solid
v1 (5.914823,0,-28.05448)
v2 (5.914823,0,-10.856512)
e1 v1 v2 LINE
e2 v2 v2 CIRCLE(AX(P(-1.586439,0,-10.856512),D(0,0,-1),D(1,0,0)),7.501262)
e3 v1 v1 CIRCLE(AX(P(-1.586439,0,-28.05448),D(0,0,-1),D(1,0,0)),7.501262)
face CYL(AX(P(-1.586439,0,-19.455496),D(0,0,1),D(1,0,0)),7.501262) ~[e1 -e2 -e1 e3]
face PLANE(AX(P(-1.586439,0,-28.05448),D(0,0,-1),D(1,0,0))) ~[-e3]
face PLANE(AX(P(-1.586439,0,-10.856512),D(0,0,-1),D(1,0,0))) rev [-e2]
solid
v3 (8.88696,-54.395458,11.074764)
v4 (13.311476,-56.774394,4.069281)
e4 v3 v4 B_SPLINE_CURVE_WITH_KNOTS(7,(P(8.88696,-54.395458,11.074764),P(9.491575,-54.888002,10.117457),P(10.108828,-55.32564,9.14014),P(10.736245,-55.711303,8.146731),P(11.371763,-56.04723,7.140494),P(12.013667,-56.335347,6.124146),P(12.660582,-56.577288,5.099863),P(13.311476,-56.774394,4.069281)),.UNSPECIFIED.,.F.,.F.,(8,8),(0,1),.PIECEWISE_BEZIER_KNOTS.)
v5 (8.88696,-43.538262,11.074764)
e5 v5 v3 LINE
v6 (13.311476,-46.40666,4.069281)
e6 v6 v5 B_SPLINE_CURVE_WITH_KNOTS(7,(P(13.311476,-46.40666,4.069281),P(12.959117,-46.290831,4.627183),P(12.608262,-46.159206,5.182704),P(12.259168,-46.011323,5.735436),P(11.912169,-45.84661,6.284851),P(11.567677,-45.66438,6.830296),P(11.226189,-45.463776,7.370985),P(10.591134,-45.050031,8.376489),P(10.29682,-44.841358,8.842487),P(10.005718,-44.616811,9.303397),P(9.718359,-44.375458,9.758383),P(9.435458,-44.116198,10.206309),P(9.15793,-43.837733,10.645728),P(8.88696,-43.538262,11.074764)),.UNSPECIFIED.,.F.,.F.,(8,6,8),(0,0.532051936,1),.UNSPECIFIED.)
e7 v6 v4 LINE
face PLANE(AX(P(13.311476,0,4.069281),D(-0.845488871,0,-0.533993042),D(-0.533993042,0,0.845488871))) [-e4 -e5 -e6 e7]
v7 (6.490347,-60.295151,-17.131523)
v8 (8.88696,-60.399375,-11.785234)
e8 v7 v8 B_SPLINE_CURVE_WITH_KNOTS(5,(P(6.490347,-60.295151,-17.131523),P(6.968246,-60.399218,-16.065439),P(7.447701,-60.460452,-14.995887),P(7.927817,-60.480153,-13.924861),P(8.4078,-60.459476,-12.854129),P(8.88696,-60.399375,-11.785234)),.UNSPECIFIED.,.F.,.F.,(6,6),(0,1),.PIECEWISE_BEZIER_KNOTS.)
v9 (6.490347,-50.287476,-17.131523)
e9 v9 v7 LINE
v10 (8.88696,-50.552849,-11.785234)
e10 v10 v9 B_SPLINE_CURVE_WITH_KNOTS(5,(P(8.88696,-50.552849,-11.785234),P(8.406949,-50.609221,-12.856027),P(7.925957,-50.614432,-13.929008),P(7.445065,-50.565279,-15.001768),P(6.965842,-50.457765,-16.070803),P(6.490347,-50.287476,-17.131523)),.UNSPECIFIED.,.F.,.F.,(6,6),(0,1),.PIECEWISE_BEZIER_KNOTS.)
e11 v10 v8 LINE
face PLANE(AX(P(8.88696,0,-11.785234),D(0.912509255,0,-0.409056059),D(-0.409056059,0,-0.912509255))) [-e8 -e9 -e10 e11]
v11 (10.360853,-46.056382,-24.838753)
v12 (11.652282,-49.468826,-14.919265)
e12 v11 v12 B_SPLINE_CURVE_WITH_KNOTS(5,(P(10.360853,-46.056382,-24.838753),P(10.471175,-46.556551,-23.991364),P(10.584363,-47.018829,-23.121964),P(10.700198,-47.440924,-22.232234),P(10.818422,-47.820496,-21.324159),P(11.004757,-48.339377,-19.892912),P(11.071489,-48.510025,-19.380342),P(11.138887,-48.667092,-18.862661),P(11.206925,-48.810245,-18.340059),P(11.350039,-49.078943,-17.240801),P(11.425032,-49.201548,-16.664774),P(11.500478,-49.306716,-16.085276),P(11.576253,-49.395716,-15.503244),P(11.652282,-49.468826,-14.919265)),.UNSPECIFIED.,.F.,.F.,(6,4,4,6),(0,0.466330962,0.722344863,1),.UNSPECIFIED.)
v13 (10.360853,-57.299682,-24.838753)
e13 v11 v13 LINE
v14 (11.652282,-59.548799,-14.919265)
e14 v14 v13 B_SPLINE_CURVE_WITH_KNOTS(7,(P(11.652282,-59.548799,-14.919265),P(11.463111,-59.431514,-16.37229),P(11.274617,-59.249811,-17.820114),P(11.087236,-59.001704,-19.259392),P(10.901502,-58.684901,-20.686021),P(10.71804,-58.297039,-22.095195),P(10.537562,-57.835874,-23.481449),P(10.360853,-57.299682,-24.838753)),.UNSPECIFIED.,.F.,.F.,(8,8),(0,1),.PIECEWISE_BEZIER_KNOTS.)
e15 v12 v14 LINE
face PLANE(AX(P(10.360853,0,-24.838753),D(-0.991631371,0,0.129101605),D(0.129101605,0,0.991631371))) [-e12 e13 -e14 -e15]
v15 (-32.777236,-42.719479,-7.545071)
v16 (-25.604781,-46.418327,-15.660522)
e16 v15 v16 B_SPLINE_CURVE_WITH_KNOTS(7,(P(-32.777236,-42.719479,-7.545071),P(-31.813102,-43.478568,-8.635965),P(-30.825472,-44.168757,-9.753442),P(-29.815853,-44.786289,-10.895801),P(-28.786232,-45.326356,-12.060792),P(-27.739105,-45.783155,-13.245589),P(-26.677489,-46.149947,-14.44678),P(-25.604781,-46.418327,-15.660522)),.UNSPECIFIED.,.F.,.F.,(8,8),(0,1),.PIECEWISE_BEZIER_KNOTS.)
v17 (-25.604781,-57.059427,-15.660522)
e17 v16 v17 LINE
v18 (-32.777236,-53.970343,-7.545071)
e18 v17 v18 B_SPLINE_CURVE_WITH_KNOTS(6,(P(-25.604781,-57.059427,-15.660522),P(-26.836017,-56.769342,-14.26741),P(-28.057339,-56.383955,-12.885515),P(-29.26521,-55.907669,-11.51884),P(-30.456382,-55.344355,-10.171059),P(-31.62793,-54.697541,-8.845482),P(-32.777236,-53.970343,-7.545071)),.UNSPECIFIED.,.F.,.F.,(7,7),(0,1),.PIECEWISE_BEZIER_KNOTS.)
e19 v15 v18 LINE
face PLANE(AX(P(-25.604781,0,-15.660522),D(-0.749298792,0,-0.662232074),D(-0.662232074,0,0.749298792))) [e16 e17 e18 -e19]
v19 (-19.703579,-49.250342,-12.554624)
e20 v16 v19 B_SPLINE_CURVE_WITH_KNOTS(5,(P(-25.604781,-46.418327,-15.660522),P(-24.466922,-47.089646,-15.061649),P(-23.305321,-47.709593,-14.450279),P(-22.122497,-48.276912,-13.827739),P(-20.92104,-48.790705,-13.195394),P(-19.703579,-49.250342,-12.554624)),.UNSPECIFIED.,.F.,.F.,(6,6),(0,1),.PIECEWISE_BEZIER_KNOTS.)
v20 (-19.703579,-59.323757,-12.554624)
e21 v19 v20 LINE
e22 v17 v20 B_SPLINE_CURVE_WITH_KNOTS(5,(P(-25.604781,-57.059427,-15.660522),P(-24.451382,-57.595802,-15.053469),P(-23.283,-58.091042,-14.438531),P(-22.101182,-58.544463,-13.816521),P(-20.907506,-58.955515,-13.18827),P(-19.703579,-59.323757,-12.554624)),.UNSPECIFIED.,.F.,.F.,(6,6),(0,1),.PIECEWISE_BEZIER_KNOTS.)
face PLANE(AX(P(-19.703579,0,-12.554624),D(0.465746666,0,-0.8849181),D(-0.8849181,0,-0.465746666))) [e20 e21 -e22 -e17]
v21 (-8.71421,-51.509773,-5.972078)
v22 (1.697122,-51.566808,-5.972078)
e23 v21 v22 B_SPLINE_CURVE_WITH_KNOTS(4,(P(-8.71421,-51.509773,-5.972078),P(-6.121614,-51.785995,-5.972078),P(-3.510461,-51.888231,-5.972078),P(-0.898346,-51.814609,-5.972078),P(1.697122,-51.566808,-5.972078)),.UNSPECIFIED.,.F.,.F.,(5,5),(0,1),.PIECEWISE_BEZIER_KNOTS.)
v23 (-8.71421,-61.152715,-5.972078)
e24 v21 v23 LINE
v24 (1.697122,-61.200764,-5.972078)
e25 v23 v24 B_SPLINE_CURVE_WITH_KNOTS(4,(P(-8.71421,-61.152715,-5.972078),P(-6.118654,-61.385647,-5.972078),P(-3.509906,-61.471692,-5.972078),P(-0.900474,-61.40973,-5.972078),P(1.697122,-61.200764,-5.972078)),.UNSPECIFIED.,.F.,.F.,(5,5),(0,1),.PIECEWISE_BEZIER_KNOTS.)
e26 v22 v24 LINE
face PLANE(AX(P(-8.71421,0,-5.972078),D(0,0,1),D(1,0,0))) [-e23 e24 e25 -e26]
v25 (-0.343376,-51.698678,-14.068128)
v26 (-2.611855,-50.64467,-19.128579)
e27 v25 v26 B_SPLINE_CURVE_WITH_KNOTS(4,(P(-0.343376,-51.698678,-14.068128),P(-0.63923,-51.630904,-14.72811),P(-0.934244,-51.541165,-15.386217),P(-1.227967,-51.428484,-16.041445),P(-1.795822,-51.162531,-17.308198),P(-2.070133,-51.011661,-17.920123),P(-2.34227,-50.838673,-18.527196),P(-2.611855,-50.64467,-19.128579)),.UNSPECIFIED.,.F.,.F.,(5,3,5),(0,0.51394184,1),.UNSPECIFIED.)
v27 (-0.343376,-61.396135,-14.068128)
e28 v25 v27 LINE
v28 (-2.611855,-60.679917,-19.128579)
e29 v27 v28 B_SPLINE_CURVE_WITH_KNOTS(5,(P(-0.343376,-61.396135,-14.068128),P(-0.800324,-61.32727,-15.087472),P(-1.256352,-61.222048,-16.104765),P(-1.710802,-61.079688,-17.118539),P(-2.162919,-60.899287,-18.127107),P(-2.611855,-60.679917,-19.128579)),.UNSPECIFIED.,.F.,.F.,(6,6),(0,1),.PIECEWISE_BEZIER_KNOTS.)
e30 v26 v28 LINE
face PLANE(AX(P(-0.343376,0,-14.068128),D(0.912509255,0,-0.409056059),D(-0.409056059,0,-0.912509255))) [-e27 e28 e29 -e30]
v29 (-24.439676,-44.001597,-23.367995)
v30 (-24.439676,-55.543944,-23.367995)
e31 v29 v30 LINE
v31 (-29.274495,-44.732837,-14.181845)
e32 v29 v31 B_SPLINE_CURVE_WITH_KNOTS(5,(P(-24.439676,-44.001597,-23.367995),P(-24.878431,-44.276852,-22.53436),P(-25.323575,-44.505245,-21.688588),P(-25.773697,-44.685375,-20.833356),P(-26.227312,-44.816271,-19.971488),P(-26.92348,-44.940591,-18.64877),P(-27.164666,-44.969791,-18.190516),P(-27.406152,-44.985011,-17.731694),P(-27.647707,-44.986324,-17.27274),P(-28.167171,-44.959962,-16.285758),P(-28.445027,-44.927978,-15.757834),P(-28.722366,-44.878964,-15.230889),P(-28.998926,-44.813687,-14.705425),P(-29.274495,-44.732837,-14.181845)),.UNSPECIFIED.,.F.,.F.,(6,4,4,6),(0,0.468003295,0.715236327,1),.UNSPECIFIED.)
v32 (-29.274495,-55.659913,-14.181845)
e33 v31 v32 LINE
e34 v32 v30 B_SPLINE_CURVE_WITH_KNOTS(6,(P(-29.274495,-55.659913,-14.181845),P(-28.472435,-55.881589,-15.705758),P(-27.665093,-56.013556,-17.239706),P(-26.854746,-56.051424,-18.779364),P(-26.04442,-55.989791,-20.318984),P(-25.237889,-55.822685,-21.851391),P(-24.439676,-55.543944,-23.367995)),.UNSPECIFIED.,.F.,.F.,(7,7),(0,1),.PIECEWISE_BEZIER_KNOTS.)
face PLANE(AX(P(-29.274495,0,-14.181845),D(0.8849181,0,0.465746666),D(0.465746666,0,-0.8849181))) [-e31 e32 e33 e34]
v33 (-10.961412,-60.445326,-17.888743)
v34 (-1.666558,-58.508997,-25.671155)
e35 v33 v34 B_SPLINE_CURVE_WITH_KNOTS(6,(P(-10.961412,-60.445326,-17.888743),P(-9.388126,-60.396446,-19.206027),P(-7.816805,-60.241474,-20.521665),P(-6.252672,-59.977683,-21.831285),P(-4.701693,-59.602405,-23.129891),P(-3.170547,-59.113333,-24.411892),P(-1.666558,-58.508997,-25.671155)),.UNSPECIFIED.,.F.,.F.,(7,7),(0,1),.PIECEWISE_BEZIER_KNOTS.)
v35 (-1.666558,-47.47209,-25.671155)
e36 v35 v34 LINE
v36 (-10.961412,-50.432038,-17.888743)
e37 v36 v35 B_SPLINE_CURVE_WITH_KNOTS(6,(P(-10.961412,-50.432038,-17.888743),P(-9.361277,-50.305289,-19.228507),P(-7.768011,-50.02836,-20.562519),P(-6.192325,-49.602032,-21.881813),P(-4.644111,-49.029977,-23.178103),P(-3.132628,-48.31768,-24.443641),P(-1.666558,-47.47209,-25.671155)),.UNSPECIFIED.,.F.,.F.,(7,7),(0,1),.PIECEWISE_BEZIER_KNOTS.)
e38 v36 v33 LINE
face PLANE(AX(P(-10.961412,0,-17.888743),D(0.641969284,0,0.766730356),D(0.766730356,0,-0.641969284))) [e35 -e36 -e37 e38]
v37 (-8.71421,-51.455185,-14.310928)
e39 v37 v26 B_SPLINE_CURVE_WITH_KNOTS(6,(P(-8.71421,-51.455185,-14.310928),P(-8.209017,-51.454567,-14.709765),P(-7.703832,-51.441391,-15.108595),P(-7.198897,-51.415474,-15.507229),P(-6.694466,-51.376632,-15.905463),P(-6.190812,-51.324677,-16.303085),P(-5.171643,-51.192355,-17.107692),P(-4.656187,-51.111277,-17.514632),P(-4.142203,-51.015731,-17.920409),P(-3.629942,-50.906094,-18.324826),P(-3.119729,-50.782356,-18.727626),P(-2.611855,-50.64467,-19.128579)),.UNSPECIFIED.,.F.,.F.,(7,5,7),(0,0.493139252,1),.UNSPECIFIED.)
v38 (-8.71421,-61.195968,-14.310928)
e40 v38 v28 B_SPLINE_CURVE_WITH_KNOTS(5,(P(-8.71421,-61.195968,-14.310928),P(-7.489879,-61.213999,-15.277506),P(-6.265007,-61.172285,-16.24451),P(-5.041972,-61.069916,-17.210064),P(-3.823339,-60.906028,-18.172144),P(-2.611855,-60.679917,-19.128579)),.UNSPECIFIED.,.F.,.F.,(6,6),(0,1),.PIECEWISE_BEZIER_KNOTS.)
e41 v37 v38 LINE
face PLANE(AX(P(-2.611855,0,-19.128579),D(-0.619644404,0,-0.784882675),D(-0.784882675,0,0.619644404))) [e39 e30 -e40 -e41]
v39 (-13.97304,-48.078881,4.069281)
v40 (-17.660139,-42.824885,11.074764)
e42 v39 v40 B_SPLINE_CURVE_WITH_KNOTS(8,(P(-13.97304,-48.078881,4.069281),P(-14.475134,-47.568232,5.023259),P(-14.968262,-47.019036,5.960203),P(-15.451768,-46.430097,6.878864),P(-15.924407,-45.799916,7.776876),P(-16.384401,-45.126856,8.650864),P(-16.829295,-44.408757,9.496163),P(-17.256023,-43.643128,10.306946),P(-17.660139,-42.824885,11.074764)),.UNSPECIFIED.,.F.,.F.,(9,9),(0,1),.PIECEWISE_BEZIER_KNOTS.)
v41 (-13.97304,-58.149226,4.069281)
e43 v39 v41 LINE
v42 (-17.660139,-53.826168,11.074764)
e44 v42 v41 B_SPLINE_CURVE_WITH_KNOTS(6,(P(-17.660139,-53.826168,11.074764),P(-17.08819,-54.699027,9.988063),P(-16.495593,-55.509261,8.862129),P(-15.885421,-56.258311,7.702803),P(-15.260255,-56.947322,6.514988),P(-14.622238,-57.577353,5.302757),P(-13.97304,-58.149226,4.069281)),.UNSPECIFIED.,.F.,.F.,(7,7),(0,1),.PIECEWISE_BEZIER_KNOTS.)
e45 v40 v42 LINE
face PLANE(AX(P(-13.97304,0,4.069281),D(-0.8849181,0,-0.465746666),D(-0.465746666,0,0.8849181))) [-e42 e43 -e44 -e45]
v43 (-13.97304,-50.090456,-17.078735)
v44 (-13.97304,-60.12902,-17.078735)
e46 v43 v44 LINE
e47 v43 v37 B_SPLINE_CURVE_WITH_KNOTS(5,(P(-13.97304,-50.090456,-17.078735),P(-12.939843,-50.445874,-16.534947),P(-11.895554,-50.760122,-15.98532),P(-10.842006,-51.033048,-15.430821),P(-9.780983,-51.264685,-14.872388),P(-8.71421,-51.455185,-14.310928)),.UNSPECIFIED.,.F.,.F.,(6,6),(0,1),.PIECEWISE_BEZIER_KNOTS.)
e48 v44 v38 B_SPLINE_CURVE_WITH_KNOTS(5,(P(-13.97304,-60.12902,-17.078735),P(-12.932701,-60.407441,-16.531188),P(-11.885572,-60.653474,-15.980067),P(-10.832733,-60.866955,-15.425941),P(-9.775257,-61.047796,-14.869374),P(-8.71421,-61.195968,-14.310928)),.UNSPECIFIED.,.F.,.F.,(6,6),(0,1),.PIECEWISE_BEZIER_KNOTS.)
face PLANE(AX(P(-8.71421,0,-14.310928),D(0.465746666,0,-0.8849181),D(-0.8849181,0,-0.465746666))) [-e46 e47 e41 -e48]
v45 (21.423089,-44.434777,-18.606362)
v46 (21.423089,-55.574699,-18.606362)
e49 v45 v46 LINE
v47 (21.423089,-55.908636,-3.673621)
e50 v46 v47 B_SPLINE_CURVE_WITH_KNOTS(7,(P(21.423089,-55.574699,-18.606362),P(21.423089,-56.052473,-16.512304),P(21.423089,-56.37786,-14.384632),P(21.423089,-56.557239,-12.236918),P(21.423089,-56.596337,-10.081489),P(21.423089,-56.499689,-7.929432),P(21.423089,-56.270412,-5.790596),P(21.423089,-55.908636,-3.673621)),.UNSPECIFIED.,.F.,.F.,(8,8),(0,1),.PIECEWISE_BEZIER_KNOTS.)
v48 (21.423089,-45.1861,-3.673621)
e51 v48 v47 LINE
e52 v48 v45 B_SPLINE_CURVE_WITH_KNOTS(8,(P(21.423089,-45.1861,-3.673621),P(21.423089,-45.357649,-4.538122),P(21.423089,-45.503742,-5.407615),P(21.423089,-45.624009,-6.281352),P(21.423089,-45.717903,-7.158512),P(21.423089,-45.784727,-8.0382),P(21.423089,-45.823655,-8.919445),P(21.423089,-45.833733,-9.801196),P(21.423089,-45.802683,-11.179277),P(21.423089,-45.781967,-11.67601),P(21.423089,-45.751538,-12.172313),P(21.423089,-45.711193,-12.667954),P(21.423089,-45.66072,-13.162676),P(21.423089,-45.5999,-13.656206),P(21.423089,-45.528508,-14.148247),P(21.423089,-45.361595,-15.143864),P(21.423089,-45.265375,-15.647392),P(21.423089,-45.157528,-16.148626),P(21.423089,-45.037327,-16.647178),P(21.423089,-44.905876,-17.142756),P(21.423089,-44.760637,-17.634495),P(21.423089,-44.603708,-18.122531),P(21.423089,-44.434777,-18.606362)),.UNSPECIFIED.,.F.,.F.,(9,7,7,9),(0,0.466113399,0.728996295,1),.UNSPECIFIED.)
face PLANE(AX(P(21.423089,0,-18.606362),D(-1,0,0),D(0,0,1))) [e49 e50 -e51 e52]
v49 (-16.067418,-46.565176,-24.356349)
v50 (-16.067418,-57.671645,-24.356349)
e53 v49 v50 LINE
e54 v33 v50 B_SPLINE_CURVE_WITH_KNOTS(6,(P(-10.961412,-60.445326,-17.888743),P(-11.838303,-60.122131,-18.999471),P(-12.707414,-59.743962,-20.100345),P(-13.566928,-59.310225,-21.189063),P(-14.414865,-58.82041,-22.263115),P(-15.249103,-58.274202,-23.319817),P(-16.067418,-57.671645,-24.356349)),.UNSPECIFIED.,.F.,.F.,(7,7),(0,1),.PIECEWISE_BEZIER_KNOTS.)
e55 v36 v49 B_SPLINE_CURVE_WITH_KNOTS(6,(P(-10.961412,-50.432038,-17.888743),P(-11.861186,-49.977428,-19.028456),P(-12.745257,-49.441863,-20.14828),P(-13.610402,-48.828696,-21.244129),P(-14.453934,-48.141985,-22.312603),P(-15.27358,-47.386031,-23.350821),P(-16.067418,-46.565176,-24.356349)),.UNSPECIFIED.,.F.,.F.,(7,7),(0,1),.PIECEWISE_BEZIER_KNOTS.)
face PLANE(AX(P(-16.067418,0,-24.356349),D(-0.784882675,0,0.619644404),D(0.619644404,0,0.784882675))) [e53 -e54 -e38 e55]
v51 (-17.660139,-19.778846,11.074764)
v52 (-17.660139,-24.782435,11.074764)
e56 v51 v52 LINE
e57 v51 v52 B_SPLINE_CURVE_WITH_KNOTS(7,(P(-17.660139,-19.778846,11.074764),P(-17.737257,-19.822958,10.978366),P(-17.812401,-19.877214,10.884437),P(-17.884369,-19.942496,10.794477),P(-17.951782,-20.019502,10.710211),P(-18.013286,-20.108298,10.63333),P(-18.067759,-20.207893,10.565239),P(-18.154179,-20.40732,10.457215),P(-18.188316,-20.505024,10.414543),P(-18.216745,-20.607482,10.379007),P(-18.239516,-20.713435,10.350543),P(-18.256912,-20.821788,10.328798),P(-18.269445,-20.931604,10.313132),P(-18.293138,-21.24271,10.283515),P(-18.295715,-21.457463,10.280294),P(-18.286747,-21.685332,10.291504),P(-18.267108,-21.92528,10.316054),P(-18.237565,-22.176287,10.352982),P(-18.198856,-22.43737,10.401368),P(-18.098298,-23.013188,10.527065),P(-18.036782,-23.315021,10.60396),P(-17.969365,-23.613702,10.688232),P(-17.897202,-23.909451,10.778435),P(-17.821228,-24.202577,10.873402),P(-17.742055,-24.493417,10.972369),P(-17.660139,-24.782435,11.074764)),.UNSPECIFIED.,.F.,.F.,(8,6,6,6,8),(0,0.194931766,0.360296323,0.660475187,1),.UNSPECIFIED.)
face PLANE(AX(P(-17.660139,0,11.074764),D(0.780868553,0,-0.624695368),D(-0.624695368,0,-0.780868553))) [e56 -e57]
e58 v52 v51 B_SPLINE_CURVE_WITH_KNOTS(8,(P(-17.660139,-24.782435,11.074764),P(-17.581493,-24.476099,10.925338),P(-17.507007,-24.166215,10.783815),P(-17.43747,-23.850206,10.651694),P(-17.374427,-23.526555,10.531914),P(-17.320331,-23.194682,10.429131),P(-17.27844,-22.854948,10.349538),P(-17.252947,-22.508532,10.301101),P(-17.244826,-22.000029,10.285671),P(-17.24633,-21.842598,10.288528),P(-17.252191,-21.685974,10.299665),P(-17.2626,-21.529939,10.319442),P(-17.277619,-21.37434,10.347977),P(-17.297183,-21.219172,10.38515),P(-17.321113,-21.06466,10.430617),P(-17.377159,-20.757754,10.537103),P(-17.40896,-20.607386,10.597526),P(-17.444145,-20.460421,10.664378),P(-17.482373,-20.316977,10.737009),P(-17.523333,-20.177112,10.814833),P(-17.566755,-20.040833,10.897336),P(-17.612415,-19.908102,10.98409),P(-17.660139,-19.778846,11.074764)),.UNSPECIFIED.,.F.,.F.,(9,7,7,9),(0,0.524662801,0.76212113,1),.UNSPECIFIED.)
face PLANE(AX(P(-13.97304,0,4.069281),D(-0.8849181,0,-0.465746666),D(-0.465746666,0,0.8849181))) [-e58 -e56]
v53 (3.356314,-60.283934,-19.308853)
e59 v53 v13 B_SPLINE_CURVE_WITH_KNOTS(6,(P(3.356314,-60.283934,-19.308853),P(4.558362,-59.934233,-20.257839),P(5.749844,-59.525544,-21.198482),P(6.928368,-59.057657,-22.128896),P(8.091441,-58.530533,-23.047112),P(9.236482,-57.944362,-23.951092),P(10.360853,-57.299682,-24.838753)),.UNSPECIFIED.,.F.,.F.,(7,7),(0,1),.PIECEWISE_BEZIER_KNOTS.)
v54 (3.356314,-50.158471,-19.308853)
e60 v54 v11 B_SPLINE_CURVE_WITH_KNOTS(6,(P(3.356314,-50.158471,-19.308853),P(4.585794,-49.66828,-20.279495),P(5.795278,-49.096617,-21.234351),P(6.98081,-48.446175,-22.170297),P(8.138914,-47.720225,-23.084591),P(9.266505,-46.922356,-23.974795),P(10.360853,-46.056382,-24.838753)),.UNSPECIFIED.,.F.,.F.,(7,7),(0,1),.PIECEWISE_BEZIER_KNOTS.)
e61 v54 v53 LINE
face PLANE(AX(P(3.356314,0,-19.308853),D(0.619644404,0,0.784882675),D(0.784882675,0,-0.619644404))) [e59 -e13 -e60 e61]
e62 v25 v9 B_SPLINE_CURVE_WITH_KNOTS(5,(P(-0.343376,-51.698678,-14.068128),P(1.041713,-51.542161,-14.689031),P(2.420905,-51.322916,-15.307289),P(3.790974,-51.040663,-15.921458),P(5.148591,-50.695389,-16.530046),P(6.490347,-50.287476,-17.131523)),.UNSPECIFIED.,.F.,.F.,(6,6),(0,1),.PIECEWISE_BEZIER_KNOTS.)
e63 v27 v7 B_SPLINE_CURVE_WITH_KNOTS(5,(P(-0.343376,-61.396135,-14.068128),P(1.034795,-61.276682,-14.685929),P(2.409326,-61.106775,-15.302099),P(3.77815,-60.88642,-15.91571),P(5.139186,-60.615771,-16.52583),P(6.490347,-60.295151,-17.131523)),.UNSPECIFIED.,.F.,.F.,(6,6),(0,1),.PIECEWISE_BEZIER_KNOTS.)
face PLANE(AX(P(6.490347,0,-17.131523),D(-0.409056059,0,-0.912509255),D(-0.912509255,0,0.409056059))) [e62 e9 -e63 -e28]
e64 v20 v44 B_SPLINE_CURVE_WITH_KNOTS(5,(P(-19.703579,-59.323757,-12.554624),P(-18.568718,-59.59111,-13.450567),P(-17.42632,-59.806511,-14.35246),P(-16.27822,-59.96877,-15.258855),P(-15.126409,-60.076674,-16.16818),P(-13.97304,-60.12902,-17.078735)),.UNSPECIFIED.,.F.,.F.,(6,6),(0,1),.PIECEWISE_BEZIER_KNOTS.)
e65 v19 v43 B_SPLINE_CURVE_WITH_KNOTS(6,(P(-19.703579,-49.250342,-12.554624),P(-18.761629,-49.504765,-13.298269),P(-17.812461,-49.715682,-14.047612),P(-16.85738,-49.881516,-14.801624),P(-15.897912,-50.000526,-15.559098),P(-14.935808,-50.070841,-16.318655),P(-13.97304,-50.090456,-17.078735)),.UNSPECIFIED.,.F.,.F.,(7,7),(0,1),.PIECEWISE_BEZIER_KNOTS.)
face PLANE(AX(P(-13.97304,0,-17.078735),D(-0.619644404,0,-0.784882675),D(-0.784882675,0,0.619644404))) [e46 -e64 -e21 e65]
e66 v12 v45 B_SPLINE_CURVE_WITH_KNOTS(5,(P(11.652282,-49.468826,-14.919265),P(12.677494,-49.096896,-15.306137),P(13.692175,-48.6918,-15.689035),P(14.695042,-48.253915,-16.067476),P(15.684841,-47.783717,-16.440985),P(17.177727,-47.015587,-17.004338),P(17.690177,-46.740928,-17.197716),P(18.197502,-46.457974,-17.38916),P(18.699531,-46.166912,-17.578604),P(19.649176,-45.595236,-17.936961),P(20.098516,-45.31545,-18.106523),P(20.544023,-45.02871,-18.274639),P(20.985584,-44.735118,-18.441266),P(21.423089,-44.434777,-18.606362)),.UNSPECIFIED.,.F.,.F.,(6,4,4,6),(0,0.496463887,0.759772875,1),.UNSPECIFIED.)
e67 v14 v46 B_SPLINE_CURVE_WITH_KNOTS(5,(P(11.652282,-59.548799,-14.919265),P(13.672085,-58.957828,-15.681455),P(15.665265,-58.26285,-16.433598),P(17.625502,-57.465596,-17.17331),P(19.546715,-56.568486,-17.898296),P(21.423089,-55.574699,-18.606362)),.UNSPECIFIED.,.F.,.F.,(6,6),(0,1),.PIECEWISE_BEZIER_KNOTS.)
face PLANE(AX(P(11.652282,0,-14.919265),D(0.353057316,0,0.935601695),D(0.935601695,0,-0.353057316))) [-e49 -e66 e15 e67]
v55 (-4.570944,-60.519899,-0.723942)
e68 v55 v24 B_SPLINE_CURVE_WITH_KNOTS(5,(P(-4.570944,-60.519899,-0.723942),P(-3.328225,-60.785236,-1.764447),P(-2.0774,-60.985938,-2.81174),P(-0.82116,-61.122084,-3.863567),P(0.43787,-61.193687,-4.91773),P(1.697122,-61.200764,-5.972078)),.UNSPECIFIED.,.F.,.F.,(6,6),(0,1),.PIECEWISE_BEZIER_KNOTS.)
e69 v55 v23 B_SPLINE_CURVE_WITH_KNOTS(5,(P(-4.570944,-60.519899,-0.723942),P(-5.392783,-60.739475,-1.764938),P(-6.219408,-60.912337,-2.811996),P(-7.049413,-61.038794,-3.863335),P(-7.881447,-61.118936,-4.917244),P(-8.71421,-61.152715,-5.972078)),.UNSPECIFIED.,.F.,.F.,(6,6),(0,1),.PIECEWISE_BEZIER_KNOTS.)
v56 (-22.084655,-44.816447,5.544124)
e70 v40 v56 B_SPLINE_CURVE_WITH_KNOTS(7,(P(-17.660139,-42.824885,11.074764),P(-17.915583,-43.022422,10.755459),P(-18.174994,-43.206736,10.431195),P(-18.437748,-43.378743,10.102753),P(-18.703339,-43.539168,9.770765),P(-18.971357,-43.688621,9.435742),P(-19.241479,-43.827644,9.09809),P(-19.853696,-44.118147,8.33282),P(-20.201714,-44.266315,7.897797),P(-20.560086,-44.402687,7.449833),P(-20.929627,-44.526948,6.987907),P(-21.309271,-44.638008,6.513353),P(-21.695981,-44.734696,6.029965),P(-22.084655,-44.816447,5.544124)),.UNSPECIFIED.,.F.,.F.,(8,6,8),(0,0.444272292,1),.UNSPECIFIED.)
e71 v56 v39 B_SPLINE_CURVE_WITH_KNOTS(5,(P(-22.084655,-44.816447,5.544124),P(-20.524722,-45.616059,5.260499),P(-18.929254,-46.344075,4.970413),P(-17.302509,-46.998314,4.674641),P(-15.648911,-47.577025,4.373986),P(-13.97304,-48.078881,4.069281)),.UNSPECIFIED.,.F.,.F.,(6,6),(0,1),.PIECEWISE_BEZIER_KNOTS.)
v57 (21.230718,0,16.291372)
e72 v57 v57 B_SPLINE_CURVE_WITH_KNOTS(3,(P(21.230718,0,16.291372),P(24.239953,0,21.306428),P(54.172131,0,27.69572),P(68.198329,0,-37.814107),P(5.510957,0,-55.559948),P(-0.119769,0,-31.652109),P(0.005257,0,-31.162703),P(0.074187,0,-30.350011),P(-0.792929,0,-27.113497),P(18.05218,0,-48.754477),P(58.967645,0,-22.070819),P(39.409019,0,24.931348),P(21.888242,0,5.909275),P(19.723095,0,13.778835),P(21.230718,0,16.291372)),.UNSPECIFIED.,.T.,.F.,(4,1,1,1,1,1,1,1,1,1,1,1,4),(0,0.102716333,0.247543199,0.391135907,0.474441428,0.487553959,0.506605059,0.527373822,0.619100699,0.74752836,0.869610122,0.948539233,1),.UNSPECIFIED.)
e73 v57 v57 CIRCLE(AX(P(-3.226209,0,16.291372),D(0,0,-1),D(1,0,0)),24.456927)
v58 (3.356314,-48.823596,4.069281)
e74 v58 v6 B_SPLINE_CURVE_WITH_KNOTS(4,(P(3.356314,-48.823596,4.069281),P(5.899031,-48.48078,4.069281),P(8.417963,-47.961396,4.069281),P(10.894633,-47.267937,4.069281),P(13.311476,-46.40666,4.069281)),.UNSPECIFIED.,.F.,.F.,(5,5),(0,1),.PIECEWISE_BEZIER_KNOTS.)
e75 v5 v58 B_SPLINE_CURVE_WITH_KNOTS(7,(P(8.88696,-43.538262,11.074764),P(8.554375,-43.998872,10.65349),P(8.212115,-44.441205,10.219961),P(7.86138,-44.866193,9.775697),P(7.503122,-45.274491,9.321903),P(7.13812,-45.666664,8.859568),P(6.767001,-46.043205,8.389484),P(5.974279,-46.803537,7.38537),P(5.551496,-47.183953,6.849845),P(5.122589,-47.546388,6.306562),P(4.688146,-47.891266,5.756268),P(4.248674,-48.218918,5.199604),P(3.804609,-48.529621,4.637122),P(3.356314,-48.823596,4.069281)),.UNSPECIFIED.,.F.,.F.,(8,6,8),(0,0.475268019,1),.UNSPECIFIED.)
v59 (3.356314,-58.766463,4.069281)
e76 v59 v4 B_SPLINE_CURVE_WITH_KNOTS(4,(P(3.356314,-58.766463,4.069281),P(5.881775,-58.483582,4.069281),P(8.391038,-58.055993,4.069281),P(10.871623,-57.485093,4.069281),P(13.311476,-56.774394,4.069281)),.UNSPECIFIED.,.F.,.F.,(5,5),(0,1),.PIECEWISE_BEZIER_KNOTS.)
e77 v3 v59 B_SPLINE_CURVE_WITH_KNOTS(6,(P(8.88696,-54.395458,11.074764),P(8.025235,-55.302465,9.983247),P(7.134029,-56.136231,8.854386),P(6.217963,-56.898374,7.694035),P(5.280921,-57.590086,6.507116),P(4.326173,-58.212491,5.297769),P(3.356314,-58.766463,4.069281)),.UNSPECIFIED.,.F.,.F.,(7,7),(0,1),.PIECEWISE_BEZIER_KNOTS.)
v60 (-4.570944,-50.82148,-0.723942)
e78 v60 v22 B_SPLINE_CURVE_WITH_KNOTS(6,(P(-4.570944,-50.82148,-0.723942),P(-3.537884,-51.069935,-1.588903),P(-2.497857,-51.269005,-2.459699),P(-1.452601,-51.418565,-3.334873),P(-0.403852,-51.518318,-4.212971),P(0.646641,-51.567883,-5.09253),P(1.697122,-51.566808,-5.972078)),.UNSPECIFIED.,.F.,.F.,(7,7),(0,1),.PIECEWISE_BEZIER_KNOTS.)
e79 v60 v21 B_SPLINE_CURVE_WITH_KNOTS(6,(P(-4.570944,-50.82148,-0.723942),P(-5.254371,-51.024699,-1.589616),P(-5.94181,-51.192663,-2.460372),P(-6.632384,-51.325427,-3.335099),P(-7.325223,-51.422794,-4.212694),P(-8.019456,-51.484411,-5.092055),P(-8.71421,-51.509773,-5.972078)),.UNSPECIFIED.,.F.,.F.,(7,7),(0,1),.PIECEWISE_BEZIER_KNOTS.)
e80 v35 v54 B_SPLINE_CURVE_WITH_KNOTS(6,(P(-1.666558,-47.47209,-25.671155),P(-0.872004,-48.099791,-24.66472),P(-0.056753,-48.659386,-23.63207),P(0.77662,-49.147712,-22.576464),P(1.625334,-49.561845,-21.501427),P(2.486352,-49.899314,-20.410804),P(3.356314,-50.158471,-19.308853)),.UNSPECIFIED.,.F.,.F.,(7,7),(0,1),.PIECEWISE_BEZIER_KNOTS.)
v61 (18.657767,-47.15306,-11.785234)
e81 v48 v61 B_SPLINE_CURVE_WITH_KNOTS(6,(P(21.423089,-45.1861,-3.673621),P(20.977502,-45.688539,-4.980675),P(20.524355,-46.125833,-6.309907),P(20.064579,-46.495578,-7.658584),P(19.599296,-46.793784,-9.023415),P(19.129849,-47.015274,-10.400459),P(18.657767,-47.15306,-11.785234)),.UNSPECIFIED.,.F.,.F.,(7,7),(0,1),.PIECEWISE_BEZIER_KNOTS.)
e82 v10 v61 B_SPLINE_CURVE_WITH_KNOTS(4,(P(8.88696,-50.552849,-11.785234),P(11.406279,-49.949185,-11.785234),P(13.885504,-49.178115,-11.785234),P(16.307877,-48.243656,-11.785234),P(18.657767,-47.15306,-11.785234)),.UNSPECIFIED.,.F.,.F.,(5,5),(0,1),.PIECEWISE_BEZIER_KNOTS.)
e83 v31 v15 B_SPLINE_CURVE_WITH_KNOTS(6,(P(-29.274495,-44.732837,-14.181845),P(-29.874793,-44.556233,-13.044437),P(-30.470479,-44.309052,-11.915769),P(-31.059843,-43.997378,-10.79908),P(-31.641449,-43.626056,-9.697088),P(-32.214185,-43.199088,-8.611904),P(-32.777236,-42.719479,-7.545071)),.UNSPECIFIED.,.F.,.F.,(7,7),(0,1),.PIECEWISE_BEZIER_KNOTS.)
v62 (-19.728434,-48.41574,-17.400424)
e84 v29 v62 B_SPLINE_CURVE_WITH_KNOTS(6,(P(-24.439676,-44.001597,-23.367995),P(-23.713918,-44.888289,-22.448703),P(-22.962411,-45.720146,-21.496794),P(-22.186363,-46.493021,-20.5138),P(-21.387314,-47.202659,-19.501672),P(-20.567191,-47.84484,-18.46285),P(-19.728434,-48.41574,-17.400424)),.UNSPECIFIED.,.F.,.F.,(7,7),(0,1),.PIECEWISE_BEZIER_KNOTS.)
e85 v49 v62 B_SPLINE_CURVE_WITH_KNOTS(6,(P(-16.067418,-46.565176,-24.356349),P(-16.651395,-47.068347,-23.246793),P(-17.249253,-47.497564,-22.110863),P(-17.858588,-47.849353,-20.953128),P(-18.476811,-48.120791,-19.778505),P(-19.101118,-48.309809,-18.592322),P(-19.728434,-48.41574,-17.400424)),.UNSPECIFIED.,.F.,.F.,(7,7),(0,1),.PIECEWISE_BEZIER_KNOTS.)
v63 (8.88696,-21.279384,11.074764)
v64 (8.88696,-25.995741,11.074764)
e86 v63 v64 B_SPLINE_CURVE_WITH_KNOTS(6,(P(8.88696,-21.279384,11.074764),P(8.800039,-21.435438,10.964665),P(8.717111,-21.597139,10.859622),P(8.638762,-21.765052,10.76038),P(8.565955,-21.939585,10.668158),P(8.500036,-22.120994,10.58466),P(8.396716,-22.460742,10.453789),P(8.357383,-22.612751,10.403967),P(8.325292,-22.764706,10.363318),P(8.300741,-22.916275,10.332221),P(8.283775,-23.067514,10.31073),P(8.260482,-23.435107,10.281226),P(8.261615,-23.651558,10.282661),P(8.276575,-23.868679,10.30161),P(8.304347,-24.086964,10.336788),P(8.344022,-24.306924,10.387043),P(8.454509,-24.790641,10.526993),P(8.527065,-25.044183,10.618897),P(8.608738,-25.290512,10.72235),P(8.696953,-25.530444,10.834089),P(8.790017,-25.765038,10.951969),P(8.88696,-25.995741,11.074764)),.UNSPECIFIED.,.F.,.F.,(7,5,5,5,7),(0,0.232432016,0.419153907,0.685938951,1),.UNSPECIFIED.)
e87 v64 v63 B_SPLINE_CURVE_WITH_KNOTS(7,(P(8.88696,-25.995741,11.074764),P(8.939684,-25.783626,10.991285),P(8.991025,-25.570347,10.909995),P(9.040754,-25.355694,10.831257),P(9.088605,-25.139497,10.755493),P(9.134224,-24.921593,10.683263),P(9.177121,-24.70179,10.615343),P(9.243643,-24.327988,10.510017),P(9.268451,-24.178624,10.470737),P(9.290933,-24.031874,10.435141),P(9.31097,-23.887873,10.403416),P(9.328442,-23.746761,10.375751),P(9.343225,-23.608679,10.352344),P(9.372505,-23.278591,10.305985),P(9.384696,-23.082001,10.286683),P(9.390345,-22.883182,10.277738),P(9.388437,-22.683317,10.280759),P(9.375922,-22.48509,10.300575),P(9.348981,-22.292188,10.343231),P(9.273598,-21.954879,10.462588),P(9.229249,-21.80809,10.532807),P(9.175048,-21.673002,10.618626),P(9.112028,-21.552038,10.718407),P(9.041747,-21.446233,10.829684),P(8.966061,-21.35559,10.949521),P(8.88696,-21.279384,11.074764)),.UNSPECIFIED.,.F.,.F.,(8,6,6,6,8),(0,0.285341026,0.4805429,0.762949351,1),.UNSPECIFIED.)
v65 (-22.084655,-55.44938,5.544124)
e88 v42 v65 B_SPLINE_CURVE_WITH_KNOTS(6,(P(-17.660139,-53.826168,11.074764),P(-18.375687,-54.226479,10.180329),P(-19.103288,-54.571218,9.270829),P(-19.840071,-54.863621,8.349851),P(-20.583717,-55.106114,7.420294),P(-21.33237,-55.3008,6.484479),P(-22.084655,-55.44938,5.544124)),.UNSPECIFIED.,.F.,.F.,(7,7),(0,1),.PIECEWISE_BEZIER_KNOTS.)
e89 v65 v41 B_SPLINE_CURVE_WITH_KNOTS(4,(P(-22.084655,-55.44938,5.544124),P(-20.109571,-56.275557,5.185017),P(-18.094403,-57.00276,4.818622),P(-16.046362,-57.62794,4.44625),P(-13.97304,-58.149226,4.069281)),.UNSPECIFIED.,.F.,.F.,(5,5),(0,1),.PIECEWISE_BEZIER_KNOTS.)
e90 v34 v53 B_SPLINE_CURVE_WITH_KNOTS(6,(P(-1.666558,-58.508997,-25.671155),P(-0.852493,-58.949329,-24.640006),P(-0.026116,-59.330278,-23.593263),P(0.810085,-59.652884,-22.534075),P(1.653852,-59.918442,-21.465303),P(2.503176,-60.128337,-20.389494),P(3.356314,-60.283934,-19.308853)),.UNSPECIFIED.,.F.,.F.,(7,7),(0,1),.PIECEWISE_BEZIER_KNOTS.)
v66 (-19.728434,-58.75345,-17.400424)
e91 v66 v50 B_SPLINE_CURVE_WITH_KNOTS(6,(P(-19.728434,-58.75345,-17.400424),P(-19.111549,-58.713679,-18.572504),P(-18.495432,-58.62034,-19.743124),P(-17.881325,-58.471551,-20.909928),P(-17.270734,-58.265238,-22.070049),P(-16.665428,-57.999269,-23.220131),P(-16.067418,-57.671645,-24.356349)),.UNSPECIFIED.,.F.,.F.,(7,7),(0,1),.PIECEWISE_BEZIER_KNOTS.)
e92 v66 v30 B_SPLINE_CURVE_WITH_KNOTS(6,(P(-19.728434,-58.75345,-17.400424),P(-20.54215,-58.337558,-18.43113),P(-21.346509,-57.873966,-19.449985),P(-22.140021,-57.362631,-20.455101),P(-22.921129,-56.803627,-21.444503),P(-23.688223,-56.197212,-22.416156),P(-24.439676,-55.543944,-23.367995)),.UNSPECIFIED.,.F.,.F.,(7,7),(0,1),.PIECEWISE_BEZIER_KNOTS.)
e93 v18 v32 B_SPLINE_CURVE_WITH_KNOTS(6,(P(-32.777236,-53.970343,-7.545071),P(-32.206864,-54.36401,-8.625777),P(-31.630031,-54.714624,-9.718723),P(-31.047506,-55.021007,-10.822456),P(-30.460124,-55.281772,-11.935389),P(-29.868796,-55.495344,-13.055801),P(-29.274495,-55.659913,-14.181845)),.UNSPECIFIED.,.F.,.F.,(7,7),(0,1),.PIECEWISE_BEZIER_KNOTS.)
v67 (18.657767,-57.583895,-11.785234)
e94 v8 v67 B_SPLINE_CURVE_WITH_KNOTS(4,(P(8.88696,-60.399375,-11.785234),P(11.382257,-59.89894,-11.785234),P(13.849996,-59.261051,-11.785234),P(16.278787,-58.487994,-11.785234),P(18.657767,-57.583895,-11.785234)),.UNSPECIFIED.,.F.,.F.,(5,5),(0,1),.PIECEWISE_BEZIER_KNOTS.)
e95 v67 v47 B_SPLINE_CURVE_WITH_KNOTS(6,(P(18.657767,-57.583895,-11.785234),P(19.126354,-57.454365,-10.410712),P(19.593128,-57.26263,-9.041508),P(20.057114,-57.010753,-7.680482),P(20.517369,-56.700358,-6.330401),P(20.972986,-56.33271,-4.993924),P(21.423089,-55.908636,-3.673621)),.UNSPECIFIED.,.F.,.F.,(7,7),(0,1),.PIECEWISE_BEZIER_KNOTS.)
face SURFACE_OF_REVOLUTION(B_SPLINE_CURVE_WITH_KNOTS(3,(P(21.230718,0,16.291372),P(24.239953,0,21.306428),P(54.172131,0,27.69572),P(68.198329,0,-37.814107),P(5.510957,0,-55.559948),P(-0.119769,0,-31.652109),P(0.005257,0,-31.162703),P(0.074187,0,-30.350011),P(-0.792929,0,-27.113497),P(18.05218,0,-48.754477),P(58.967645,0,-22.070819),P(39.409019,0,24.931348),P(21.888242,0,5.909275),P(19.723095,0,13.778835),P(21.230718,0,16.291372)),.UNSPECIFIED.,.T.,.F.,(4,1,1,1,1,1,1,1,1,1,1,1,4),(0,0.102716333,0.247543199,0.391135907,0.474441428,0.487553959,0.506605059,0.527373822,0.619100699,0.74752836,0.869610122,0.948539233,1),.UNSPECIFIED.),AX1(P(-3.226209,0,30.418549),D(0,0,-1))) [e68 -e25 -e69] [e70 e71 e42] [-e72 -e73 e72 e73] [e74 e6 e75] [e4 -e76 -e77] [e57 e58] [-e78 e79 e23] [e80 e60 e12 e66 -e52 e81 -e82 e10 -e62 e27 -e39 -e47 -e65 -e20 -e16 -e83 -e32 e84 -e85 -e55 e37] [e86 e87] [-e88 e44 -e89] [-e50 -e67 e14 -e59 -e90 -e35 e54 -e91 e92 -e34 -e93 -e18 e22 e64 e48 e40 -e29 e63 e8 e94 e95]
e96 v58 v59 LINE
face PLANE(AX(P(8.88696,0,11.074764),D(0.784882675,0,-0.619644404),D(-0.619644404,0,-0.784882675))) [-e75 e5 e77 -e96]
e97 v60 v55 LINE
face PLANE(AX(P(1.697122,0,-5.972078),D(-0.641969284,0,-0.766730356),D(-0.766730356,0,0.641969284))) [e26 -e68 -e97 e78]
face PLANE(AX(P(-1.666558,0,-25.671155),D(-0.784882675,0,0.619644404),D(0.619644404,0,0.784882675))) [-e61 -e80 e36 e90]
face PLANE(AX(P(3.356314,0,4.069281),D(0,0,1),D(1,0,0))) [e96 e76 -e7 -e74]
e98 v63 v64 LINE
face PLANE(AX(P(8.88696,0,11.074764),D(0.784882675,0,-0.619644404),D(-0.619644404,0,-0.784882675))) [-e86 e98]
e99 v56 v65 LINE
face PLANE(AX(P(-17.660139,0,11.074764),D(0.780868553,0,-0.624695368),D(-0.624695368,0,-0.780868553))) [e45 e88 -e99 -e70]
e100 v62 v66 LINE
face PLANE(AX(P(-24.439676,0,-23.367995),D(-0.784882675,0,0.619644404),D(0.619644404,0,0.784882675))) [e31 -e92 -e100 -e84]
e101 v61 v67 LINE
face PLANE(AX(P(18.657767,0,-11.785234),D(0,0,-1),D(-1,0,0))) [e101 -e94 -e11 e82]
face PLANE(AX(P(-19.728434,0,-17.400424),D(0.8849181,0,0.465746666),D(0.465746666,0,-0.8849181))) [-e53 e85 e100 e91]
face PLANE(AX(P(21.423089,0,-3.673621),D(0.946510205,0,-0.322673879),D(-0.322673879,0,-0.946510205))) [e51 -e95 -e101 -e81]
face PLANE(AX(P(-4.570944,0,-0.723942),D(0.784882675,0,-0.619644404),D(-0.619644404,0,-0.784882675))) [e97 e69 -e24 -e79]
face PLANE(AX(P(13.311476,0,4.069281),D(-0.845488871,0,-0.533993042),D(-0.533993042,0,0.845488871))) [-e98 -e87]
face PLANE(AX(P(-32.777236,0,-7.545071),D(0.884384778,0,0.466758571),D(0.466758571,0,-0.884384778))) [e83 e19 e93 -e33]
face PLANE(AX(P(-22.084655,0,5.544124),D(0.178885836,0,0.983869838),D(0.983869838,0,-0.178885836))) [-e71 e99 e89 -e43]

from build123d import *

# Parameters (mm, degrees)
F3_DEPTH = 98.044
F4_W     = 7.5012618909
F4_H     = 17.1979675069


with BuildPart() as f1:
    # F0 (on Front) → F1 (revolve)
    with BuildSketch(Plane.XZ):
        with BuildLine():
            add(Edge.make_bspline(
                [(21.2307181209, 16.291372478), (24.2399529947, 21.3064283461), (54.1721308633, 27.6957204089), (68.1983293464, -37.8141065393), (5.510957125, -55.5599483132), (-0.1197694001, -31.652108788), (0.0052568787, -31.1627025663), (0.0741872653, -30.3500114204), (-0.7929287712, -27.1134972047), (18.0521800825, -48.7544770801), (58.9676449557, -22.0708191316), (39.4090194548, 24.9313479395), (21.8882417215, 5.9092752581), (19.7230948296, 13.7788351217), (21.2307181209, 16.291372478)],
                knots=[0, 0, 0, 0, 0.1027163331, 0.247543199, 0.3911359073, 0.4744414281, 0.4875539594, 0.5066050592, 0.5273738222, 0.6191006994, 0.7475283601, 0.8696101223, 0.9485392325, 1, 1, 1, 1], degree=3))
        make_face()
    revolve(axis=Axis((-3.2262091991, 0, 30.418548733), (0, 0, -1)))

    # F2 (on Front) → F3 (cut)
    with BuildSketch(Plane.XZ):
        Polygon((-13.9730398795, 4.0692813948), (-17.6601385018, 11.0747643069), (-22.0846546135, 5.544123824), align=None)
        Polygon((13.3114761421, 4.0692813948), (8.8869600305, 11.0747643069), (3.3563139596, 4.0692813948), align=None)
        Polygon((1.6971218148, -5.9720779783), (-4.570943608, -0.7239415988), (-8.7142104193, -5.9720779783), align=None)
        Polygon((-32.7772361478, -7.5450710698), (-29.2744946918, -14.1818452372), (-24.4396757334, -23.3679953963), (-19.7284335145, -17.4004237172), (-16.0674179612, -24.3563488299), (-10.9614120744, -17.8887433222), (-1.6665576512, -25.6711546965), (3.3563139596, -19.3088525733), (10.3608527329, -24.8387532712), (11.6522821346, -14.9192645892), (21.4230890134, -18.6063622802), (21.4230890134, -3.6736208692), (18.6577669093, -11.7852337404), (8.8869600305, -11.7852337404), (6.490346671, -17.131522645), (-0.3433762528, -14.0681282145), (-2.6118550357, -19.1285785786), (-8.7142104193, -14.3109281398), (-13.9730398795, -17.0787348851), (-19.7035787016, -12.5546239255), (-25.6047811588, -15.6605219375), align=None)
    extrude(amount=F3_DEPTH, mode=Mode.SUBTRACT)


with BuildPart() as f5:
    # F4 (on Front) → F5 (revolve)
    with BuildSketch(Plane.XZ):
        with Locations((2.1641922067, -19.4554957561)):
            Rectangle(F4_W, F4_H)
    revolve(axis=Axis((-1.5864387387, 0, -19.4554957561), (0, 0, -1)))


solid = Compound([f1.part, f5.part])
